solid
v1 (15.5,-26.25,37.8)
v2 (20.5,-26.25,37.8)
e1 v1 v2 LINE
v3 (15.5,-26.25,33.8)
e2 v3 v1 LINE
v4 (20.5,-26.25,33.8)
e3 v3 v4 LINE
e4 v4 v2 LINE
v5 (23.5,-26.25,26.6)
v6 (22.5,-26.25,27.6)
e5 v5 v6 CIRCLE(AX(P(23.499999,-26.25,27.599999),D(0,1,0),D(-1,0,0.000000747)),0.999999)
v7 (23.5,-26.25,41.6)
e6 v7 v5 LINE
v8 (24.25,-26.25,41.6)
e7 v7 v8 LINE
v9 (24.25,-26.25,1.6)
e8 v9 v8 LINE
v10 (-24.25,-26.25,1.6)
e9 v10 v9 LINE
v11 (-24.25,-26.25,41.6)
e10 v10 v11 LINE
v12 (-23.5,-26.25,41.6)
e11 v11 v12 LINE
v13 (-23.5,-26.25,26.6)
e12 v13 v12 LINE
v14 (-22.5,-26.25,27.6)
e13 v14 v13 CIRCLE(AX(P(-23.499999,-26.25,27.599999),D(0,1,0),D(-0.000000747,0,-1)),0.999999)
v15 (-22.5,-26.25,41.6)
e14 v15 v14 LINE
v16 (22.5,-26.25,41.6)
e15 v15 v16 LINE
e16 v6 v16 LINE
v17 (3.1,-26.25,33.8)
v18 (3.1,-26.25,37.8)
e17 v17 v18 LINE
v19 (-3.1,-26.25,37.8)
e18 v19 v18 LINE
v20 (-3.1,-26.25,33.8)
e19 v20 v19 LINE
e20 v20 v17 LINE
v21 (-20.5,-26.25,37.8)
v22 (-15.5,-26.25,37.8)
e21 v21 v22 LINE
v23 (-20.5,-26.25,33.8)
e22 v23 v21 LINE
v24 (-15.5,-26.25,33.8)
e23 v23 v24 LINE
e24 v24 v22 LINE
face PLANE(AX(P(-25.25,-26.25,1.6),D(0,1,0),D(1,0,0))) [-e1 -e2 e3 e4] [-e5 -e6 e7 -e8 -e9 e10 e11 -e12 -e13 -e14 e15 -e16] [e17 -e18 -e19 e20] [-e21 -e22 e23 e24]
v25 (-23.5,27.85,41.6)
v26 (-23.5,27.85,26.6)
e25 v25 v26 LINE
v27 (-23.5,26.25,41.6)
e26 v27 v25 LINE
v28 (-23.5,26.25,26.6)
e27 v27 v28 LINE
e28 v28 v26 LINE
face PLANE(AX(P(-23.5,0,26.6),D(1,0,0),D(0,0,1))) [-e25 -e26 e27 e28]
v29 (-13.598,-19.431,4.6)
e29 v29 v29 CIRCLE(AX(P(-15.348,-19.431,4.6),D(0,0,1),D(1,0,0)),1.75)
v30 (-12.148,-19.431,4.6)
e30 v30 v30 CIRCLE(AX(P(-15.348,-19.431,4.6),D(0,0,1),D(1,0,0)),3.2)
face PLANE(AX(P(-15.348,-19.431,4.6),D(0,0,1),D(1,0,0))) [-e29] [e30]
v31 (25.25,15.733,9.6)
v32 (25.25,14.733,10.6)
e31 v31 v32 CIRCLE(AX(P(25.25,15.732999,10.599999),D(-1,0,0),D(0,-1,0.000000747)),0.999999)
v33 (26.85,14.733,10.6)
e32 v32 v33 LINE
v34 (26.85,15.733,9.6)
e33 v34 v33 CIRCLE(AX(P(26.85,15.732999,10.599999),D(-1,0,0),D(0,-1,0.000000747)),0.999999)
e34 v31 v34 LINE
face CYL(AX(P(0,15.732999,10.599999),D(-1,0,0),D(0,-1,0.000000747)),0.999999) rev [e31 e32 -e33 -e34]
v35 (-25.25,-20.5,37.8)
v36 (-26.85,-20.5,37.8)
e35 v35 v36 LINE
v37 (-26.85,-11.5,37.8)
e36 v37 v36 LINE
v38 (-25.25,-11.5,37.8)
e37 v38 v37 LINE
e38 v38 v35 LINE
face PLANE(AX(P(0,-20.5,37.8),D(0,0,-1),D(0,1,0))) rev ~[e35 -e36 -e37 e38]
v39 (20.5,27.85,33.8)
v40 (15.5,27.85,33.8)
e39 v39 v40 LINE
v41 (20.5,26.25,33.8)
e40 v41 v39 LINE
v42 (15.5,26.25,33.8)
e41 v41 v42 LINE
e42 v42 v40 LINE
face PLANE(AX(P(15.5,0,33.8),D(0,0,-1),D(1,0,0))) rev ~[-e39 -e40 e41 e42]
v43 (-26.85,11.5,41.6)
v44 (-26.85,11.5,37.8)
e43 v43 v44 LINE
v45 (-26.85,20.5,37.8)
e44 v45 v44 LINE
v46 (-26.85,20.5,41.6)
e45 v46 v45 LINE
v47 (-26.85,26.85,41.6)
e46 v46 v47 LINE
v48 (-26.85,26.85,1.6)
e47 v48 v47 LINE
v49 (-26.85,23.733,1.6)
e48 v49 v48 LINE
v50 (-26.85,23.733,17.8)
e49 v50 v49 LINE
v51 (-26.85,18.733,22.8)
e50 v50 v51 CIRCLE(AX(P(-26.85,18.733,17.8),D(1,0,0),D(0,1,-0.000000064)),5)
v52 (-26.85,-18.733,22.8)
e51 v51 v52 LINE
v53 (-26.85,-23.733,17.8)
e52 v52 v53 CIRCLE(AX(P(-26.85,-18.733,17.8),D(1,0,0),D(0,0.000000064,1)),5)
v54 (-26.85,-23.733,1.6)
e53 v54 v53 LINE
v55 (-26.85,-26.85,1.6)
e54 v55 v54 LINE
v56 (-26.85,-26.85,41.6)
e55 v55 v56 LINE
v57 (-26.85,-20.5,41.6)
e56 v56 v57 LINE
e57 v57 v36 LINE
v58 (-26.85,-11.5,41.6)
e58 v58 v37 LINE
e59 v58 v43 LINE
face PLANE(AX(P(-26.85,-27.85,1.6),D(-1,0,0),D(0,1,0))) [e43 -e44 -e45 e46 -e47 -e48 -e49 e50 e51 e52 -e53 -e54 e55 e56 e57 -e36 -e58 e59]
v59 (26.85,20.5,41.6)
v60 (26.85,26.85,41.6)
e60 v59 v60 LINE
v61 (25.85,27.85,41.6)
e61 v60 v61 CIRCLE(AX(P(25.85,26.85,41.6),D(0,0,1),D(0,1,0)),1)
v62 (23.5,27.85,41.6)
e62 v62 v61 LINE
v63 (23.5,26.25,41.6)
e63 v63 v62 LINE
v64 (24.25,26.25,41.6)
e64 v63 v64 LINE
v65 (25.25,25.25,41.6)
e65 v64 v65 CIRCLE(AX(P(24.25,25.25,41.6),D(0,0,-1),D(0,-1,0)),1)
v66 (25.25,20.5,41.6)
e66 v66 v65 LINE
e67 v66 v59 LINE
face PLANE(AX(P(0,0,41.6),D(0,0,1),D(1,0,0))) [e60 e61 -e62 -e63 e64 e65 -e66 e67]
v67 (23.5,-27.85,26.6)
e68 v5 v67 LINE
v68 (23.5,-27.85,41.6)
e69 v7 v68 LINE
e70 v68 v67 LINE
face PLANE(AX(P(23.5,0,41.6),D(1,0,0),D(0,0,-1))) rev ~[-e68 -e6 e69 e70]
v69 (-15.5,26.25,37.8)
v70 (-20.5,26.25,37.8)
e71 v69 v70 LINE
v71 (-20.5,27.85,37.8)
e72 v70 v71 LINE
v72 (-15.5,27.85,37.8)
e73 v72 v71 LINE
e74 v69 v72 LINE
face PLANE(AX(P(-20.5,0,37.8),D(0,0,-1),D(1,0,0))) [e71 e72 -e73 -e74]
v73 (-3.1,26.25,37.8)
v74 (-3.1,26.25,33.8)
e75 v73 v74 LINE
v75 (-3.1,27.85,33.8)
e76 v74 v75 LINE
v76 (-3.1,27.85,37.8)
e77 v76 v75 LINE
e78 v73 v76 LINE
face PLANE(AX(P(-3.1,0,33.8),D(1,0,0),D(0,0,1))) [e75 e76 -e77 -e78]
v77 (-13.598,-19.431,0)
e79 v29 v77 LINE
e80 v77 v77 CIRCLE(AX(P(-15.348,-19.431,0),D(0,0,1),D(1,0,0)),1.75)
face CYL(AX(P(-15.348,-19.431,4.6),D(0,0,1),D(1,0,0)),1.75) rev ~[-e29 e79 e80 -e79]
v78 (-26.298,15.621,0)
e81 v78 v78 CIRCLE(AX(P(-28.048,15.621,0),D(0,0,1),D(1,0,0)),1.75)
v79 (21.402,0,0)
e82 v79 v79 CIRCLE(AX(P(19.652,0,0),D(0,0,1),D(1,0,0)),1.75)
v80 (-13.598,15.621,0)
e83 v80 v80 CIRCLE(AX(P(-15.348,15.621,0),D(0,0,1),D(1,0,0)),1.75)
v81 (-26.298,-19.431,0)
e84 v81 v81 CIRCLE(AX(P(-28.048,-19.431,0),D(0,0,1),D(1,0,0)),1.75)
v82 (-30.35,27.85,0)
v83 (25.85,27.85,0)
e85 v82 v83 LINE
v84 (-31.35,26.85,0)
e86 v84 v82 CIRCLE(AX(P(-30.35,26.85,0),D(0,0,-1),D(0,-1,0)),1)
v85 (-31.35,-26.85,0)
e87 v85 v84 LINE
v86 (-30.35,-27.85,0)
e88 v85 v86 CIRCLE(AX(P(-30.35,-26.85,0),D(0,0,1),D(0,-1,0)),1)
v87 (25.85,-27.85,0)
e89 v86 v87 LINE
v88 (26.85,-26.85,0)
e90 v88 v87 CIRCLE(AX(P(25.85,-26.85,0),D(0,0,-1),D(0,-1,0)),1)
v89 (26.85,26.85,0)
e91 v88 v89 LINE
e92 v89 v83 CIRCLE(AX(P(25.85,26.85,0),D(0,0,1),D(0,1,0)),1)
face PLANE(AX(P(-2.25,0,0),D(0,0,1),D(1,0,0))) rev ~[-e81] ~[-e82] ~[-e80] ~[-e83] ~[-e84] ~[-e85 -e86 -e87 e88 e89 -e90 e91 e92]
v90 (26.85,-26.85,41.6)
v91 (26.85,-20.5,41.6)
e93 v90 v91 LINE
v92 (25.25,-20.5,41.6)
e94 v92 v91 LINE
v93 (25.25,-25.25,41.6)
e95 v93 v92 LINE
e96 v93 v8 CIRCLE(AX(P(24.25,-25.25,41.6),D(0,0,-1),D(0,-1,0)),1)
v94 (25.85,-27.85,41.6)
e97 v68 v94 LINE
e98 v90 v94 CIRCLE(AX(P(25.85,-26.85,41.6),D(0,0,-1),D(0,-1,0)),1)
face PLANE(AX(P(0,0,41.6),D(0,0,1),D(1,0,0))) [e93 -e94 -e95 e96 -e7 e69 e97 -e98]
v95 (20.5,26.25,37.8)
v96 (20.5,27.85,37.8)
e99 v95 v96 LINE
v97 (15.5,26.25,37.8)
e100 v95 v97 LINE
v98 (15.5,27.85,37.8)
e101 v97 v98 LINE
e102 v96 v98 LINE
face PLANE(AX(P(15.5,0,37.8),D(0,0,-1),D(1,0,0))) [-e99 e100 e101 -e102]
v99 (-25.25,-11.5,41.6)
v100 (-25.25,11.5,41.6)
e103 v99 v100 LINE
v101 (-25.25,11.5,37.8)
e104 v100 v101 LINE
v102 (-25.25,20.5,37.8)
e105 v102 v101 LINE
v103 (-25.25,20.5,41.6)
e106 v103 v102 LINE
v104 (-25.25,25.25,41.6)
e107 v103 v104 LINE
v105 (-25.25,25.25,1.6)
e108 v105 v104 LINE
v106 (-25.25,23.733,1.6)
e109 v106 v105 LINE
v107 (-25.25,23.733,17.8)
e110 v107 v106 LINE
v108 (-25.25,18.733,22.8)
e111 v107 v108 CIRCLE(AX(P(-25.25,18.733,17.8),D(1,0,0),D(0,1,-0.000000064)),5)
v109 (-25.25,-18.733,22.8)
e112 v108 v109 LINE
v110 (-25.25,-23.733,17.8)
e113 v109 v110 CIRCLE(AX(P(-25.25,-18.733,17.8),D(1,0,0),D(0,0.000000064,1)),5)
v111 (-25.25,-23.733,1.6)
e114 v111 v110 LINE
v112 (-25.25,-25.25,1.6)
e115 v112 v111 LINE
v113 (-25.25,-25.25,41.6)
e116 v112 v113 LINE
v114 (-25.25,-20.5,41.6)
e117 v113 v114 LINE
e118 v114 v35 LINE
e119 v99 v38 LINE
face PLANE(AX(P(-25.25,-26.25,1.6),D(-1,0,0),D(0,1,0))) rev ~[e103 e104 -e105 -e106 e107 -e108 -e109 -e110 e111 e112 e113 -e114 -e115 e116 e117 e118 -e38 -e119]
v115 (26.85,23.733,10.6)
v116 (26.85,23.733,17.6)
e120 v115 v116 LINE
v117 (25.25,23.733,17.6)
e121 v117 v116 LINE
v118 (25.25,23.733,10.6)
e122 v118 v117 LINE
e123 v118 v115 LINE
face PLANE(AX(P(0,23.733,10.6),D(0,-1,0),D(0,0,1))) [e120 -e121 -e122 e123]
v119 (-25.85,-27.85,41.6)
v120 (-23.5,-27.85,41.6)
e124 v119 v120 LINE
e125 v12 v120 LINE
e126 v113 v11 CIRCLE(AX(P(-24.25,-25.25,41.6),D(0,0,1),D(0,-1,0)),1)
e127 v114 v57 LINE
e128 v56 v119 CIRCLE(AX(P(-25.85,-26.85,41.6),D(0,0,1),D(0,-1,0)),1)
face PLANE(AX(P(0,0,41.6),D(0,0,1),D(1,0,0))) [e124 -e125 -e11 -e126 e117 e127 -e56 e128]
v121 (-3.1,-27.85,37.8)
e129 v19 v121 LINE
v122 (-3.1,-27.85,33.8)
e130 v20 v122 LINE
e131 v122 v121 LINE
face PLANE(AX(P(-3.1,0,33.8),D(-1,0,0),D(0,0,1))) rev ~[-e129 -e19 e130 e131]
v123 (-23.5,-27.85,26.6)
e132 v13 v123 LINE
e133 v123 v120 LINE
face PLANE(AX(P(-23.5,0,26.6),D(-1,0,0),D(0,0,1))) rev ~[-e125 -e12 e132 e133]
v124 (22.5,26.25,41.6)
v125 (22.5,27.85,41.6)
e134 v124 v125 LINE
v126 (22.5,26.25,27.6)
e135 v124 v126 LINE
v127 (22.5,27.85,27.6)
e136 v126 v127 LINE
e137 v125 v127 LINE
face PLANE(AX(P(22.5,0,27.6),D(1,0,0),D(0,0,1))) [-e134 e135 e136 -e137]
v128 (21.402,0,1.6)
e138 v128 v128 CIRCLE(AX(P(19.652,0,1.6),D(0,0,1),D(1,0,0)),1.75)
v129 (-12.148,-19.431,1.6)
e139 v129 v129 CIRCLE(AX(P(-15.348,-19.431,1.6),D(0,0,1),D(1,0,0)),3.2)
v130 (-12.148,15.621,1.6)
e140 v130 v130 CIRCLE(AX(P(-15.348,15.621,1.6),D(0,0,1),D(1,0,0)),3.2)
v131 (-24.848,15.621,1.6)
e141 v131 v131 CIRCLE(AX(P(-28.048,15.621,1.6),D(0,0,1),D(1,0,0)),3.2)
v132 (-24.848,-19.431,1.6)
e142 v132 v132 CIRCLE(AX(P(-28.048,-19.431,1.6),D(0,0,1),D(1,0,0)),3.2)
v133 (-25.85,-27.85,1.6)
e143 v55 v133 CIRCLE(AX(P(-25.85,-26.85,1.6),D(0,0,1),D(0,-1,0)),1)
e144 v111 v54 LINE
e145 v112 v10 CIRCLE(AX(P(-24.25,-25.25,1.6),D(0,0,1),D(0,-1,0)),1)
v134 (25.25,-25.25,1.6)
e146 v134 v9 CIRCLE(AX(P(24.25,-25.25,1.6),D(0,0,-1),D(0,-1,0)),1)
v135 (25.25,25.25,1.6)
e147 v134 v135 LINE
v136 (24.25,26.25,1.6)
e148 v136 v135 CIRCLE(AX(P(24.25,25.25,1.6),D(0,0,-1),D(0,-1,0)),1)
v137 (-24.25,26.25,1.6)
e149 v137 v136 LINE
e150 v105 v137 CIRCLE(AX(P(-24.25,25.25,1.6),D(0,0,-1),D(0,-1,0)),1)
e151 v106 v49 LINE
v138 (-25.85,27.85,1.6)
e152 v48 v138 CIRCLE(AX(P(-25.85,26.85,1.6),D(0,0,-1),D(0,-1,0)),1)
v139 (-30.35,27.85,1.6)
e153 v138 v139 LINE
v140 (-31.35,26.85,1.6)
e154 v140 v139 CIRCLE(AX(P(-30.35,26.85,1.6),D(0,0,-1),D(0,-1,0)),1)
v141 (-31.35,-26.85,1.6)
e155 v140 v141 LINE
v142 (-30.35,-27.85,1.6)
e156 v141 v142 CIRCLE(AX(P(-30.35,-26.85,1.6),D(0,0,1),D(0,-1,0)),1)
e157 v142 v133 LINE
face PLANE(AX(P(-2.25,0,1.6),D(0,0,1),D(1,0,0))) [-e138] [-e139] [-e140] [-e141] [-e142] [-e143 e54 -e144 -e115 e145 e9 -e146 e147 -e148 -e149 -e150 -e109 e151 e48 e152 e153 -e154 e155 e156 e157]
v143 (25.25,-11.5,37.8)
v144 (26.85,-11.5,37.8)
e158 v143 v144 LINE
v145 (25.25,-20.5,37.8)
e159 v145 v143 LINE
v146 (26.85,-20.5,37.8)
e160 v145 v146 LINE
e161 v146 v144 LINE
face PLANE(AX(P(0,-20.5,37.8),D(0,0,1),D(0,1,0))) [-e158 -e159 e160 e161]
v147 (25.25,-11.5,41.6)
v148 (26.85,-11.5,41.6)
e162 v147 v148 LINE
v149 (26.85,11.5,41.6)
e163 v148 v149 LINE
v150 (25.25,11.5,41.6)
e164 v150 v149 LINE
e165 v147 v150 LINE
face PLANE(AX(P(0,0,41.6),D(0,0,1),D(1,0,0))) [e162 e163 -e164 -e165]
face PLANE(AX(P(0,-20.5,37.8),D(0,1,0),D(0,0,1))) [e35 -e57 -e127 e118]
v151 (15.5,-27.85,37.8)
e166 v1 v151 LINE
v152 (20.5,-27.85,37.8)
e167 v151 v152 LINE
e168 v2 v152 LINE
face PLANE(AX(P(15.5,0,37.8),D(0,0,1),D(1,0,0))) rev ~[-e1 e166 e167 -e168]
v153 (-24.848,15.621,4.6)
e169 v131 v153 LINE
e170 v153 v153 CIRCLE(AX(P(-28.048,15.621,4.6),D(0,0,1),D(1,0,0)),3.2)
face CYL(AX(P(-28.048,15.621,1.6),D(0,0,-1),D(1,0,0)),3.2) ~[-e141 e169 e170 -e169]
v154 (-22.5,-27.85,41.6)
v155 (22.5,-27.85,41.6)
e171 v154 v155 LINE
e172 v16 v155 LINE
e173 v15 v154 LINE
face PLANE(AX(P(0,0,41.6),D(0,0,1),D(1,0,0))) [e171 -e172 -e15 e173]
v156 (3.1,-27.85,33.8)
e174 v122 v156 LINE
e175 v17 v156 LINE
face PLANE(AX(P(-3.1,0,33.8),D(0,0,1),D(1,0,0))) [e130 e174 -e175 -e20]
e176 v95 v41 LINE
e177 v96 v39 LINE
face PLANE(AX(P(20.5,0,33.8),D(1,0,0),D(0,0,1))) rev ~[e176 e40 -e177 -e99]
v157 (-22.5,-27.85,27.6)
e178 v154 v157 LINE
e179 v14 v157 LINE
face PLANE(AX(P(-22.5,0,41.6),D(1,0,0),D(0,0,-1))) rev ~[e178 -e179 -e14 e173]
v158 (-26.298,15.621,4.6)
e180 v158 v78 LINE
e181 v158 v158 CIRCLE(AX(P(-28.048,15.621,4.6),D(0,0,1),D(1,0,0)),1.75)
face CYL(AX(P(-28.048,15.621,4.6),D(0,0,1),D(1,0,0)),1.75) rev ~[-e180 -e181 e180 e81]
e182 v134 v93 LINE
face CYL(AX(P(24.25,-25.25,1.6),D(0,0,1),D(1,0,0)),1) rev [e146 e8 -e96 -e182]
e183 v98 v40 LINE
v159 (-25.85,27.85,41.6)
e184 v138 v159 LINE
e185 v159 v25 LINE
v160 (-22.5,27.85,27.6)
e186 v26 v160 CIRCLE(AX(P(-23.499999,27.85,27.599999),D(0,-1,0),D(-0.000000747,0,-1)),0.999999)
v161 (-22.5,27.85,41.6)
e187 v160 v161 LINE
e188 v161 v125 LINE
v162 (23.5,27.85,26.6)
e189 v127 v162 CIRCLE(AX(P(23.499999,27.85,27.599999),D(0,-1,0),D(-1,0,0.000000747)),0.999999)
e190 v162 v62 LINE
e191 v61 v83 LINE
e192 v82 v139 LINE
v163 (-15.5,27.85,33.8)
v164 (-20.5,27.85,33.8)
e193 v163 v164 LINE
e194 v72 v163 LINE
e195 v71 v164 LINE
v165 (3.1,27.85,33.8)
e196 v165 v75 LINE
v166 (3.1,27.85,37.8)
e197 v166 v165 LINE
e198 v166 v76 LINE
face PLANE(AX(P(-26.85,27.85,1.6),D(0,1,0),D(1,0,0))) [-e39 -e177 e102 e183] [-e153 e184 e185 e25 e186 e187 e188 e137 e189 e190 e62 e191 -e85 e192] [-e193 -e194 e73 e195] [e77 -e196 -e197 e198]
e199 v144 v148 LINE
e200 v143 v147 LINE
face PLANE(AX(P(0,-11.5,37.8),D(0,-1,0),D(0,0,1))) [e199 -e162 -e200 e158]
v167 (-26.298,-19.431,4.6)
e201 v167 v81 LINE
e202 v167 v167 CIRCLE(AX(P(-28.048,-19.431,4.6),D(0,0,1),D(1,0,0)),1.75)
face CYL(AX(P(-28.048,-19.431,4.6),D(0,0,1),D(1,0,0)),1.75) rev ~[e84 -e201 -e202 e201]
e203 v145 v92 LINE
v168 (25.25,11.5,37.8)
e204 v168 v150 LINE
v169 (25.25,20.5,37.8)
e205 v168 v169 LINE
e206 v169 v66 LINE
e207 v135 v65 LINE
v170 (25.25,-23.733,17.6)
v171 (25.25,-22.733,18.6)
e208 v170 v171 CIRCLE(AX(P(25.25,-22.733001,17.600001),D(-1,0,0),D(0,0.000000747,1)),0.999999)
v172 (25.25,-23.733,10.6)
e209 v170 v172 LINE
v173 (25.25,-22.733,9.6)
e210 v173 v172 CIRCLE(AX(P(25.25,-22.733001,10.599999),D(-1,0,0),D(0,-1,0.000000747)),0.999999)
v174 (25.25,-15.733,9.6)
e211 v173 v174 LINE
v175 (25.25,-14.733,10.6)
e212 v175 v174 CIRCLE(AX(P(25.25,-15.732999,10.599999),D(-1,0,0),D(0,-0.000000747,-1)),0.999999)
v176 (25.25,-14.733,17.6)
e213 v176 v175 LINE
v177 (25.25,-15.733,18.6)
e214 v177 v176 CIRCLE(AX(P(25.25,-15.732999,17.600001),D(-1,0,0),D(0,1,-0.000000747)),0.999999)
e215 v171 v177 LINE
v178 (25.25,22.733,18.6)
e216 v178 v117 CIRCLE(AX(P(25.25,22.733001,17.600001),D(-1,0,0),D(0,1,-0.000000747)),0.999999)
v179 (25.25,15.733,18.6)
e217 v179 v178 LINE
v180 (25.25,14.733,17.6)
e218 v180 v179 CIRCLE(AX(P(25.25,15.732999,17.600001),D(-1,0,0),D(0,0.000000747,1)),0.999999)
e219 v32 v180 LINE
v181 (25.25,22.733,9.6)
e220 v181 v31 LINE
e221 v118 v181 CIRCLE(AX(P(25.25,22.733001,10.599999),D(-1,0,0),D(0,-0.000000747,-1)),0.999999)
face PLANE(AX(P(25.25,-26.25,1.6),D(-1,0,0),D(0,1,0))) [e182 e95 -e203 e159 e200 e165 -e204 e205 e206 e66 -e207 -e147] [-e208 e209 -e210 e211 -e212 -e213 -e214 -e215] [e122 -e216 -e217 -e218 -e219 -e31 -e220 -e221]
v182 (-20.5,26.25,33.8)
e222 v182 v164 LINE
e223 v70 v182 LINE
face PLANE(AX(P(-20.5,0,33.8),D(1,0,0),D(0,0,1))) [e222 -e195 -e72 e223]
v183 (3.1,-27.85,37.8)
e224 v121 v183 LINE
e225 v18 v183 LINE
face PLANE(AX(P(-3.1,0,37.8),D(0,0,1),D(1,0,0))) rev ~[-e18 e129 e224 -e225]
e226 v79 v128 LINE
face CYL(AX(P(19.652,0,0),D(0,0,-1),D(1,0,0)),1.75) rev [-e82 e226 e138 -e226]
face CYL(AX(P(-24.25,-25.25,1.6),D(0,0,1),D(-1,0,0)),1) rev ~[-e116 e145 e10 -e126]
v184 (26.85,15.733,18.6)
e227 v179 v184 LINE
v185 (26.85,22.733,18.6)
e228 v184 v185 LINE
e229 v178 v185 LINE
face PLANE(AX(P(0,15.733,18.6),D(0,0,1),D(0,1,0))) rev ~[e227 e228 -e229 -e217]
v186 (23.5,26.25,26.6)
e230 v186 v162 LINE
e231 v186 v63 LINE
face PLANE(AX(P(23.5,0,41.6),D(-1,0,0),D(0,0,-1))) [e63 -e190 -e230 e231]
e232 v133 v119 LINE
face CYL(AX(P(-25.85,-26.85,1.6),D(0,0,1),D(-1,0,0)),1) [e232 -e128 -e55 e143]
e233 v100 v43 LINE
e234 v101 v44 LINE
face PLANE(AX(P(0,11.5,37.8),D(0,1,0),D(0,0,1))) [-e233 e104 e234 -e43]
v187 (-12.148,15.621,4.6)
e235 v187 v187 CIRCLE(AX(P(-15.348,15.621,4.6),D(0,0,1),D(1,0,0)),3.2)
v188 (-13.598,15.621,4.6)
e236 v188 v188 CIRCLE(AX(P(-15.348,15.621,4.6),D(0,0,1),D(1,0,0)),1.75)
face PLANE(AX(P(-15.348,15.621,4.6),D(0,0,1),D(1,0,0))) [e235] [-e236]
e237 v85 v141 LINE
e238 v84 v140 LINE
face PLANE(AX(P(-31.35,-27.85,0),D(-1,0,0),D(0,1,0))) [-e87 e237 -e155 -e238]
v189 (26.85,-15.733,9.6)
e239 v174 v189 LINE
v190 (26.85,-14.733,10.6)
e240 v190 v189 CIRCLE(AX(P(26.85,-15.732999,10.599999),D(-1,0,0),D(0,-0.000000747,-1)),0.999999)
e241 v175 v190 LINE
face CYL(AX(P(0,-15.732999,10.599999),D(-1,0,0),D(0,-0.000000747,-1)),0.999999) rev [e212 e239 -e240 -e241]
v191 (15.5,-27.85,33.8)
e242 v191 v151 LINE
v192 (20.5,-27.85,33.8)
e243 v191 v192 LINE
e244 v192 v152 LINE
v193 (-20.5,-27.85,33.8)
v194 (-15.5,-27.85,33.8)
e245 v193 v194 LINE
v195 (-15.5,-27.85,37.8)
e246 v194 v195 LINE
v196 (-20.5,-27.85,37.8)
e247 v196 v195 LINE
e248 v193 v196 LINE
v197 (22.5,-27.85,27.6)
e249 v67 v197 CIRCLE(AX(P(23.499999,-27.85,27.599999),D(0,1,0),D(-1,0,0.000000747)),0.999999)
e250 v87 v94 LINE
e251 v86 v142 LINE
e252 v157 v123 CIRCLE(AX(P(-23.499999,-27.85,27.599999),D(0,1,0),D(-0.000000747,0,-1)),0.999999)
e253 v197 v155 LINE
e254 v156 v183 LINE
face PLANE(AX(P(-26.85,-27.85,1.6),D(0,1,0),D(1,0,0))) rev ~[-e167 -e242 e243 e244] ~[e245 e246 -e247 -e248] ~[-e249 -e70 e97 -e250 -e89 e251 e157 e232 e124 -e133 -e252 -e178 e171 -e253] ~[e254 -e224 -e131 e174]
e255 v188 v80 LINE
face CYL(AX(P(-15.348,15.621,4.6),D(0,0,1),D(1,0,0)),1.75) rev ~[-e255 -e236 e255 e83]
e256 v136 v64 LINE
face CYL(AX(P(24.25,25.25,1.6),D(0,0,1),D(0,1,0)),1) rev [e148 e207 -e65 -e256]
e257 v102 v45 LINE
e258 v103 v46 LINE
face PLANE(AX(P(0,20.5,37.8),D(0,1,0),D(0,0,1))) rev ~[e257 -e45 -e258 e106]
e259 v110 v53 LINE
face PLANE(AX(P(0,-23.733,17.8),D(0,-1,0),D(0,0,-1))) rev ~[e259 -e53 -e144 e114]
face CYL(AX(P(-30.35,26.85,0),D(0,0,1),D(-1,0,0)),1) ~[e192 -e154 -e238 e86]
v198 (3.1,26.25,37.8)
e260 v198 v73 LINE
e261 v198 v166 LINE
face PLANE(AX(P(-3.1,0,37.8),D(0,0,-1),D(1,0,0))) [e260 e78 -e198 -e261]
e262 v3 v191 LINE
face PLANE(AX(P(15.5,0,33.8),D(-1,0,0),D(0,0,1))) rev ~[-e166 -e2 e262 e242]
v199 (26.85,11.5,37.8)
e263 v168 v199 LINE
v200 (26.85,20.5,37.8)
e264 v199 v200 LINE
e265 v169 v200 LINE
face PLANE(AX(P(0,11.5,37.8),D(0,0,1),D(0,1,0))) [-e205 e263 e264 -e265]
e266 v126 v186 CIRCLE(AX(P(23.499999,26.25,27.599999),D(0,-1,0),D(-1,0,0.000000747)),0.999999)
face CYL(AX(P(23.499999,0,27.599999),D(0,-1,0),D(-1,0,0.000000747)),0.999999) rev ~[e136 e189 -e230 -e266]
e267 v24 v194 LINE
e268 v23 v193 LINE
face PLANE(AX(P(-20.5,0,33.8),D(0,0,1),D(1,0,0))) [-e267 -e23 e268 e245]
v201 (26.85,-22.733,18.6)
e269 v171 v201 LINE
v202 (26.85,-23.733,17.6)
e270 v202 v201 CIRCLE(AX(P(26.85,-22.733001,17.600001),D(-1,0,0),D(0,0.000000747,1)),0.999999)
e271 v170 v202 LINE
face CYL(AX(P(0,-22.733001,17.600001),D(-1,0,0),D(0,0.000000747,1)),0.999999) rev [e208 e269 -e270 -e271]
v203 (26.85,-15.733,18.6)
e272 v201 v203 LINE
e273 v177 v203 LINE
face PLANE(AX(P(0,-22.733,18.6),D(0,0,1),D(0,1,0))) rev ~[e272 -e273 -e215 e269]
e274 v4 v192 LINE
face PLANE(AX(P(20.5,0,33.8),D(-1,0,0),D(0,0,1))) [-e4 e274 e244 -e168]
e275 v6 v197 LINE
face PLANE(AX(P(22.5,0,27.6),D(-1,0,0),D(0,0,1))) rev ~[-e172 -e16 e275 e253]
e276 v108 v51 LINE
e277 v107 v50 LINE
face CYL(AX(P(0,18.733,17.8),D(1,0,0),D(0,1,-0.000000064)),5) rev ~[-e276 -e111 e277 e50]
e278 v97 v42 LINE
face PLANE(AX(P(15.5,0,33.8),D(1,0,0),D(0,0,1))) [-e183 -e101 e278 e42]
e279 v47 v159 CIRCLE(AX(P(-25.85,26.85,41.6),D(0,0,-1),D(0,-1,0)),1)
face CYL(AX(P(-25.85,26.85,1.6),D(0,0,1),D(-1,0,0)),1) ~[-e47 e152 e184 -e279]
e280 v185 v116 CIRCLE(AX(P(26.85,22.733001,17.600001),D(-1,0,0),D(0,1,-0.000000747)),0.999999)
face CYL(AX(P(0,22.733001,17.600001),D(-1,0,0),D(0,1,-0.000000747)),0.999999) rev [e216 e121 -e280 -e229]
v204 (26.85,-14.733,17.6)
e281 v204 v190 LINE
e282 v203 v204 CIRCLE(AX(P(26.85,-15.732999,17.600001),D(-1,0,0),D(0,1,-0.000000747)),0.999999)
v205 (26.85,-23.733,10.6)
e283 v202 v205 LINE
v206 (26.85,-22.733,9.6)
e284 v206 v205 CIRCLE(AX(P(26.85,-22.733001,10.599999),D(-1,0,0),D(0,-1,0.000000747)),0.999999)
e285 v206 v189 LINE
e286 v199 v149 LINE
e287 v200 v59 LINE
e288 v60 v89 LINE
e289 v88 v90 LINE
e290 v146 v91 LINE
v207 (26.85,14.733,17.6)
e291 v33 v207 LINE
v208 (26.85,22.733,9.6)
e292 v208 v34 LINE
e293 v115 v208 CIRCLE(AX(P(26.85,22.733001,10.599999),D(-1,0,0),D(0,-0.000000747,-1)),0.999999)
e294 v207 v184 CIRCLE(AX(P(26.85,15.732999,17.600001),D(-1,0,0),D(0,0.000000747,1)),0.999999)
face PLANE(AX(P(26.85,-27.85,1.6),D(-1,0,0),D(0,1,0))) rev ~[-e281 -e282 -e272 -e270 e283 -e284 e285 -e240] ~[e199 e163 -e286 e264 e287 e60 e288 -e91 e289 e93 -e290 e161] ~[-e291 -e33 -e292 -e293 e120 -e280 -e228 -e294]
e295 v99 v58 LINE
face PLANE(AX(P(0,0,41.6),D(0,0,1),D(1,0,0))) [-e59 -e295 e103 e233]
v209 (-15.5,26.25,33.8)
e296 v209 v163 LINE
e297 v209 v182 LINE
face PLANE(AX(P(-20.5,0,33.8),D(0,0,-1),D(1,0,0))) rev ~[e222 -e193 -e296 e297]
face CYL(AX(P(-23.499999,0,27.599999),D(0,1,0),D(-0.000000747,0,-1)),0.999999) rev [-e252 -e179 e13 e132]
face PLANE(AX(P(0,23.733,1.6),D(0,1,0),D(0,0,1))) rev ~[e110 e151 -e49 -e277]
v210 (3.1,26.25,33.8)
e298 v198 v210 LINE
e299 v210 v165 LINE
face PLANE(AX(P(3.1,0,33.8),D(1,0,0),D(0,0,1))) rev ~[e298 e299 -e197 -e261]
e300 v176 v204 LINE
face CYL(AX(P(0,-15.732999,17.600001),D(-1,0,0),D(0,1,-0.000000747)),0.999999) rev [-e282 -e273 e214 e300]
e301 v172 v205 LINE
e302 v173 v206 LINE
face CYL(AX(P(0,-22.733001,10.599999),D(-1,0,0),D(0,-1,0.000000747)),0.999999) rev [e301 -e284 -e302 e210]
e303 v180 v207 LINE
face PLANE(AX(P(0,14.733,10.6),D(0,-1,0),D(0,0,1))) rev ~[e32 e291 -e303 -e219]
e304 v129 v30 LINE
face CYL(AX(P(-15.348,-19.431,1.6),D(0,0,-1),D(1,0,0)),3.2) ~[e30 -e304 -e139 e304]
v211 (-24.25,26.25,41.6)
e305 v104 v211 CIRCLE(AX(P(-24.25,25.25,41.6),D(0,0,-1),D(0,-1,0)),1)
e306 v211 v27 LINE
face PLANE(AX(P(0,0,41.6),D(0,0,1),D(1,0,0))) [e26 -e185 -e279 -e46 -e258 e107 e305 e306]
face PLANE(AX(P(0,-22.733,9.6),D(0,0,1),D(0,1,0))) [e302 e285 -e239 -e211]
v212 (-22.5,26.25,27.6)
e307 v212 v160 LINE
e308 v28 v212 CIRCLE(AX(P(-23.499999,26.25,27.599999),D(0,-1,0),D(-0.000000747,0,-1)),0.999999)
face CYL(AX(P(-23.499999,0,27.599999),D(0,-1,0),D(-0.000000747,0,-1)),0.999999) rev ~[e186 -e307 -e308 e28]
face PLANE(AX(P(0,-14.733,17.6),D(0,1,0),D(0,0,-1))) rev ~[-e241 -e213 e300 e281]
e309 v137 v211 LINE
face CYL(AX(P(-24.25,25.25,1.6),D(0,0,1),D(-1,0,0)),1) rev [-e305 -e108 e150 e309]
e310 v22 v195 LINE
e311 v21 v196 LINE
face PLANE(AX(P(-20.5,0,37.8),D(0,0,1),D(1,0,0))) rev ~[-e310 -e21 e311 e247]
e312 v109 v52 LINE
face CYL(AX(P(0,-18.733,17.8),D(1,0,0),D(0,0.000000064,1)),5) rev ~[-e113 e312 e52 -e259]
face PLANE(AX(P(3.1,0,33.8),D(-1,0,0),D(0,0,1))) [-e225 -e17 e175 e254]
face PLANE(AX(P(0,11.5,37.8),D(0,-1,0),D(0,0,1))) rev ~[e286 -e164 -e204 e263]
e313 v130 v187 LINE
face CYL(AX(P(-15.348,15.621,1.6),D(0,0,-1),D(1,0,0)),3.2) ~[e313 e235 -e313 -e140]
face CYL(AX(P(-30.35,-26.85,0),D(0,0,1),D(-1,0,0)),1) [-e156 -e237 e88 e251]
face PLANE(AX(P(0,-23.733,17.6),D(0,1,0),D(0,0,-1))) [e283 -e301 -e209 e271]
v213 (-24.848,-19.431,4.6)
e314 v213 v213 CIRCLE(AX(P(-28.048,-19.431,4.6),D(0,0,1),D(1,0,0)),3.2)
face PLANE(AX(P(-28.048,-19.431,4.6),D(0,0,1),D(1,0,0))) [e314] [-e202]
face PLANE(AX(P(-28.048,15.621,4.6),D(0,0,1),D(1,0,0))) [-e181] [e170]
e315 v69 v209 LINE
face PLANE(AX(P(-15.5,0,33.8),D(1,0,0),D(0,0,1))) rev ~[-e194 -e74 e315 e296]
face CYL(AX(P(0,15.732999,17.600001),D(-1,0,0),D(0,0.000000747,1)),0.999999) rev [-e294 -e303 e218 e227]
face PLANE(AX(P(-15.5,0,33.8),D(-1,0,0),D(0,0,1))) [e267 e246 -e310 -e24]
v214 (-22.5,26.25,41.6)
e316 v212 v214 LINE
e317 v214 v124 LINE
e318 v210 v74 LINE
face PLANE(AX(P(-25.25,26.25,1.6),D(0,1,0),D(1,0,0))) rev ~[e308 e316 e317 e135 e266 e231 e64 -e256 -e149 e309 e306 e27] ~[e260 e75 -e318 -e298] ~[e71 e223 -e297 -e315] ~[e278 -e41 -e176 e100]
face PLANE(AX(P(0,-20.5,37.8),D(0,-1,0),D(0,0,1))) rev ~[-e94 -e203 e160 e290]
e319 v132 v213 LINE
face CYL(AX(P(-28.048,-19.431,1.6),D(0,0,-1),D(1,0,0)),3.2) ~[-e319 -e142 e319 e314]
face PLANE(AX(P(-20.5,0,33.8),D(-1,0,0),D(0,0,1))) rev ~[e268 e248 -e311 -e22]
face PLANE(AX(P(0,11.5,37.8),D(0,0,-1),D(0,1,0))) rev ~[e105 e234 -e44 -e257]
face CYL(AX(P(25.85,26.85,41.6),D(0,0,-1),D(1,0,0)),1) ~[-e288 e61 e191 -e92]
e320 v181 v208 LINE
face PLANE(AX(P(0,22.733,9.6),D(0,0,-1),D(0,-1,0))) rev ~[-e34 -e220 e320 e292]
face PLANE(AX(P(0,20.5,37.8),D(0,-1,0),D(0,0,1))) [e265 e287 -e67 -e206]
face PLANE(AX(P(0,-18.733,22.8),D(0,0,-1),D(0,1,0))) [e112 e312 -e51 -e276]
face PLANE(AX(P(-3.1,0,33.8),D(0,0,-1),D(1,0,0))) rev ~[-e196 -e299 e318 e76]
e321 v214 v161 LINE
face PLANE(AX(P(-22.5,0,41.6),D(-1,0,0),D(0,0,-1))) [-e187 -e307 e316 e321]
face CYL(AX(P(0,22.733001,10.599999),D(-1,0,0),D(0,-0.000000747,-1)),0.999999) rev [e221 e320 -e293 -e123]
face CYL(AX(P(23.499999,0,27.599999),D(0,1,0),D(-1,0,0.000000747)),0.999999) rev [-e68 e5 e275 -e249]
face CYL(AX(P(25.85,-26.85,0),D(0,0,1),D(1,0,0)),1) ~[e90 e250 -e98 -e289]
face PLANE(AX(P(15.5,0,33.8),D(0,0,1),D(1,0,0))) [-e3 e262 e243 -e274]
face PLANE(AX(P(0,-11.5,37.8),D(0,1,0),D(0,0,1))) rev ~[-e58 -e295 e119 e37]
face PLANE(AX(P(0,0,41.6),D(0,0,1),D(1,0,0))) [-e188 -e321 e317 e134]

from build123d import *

# Parameters (mm, degrees)
SKETCH021_W          = 58.2
SKETCH021_H          = 55.7
SKETCH021_R          = 1.75
PAD007_DEPTH         = 1.6
SKETCH028_W          = 53.7
SKETCH028_H          = 55.7
SKETCH028_W_2        = 50.5
SKETCH028_H_2        = 52.5
PAD008_DEPTH         = 40
FILLET003_R          = 1
SKETCH026_W          = 6.2
SKETCH026_H          = 4
SKETCH026_W_2        = 5
POCKET005_DEPTH      = 27.851
POCKET005_DEPTH_BACK = 27.851
SKETCH023_W          = 9
SKETCH023_H          = 3.8
POCKET006_DEPTH      = 31.351
SKETCH062_W          = 9
SKETCH062_H          = 3.8
POCKET021_DEPTH      = 26.851
SKETCH024_R          = 3.2
PAD006_DEPTH         = 3
SKETCH038_R          = 1.75
POCKET010_DEPTH      = 4.601


with BuildPart() as part:
    # Sketch021 → Pad007 (new body)
    with BuildSketch(Plane.XY):
        with Locations((-2.25, 0)):
            Rectangle(SKETCH021_W, SKETCH021_H)
        with Locations((19.652, 0)):
            Circle(SKETCH021_R, mode=Mode.SUBTRACT)
    extrude(amount=PAD007_DEPTH)

    # Sketch028 → Pad008 (join)
    with BuildSketch(Plane.XY.offset(1.6)):
        Rectangle(SKETCH028_W, SKETCH028_H)
        Rectangle(SKETCH028_W_2, SKETCH028_H_2, mode=Mode.SUBTRACT)
    extrude(amount=PAD008_DEPTH)

    # Fillet003
    fillet003_edges = [part.edges().sort_by_distance(p)[0] for p in [
        (-31.35, -27.85, 0.8),
        (-26.85, 27.85, 21.6),
        (-25.25, 26.25, 21.6),
        (26.85, 27.85, 20.8),
        (25.25, 26.25, 21.6),
        (26.85, -27.85, 20.8),
        (25.25, -26.25, 21.6),
        (-26.85, -27.85, 21.6),
        (-25.25, -26.25, 21.6),
        (-31.35, 27.85, 0.8),
    ]]
    fillet(fillet003_edges, radius=FILLET003_R)

    # Sketch026 → Pocket005 (cut, two sides)
    with BuildSketch(Plane.XZ) as pocket005_sk:
        with Locations((0, 35.8)):
            Rectangle(SKETCH026_W, SKETCH026_H)
        with Locations((-18, 35.8)):
            Rectangle(SKETCH026_W_2, SKETCH026_H)
        with Locations((18, 35.8)):
            Rectangle(SKETCH026_W_2, SKETCH026_H)
        with BuildLine():
            Line((22.5, 41.6), (23.5, 41.6))
            Line((23.5, 41.6), (23.5, 26.6))
            ThreePointArc((22.5, 27.6), (22.792893, 26.892893), (23.5, 26.6))
            Line((22.5, 27.6), (22.5, 41.6))
        make_face()
        with BuildLine():
            Line((-23.5, 41.6), (-22.5, 41.6))
            Line((-22.5, 41.6), (-22.5, 27.6))
            ThreePointArc((-23.5, 26.6), (-22.792893, 26.892893), (-22.5, 27.6))
            Line((-23.5, 26.6), (-23.5, 41.6))
        make_face()
    extrude(amount=-POCKET005_DEPTH, mode=Mode.SUBTRACT)
    extrude(pocket005_sk.sketch, amount=POCKET005_DEPTH_BACK, mode=Mode.SUBTRACT)

    # Sketch023 → Pocket006 (cut, through all)
    with BuildSketch(Plane.YZ):
        with Locations((-16, 39.7)):
            Rectangle(SKETCH023_W, SKETCH023_H)
        with Locations((16, 39.7)):
            Rectangle(SKETCH023_W, SKETCH023_H)
        with BuildLine():
            Line((-18.733, 22.8), (18.733, 22.8))
            ThreePointArc((23.733, 17.8), (22.268534, 21.335534), (18.733, 22.8))
            Line((23.733, 1.6), (23.733, 17.8))
            Line((-23.733, 1.6), (23.733, 1.6))
            Line((-23.733, 17.8), (-23.733, 1.6))
            ThreePointArc((-18.733, 22.8), (-22.268534, 21.335534), (-23.733, 17.8))
        make_face()
    extrude(amount=-POCKET006_DEPTH, mode=Mode.SUBTRACT)

    # Sketch062 → Pocket021 (cut, through all)
    with BuildSketch(Plane.YZ):
        with Locations((-16, 39.7)):
            Rectangle(SKETCH062_W, SKETCH062_H)
        with Locations((16, 39.7)):
            Rectangle(SKETCH062_W, SKETCH062_H)
        with BuildLine():
            Line((-23.733, 17.6), (-23.733, 10.6))
            ThreePointArc((-23.733, 10.6), (-23.440107, 9.892893), (-22.733, 9.6))
            Line((-22.733, 9.6), (-15.733, 9.6))
            ThreePointArc((-15.733, 9.6), (-15.025893, 9.892893), (-14.733, 10.6))
            Line((-14.733, 17.6), (-14.733, 10.6))
            ThreePointArc((-14.733, 17.6), (-15.025893, 18.307107), (-15.733, 18.6))
            Line((-22.733, 18.6), (-15.733, 18.6))
            ThreePointArc((-22.733, 18.6), (-23.440107, 18.307107), (-23.733, 17.6))
        make_face()
        with BuildLine():
            Line((22.733, 9.6), (15.733, 9.6))
            ThreePointArc((14.733, 10.6), (15.025893, 9.892893), (15.733, 9.6))
            Line((14.733, 10.6), (14.733, 17.6))
            ThreePointArc((15.733, 18.6), (15.025893, 18.307107), (14.733, 17.6))
            Line((15.733, 18.6), (22.733, 18.6))
            ThreePointArc((23.733, 17.6), (23.440107, 18.307107), (22.733, 18.6))
            Line((23.733, 10.6), (23.733, 17.6))
            ThreePointArc((22.733, 9.6), (23.440107, 9.892893), (23.733, 10.6))
        make_face()
    extrude(amount=POCKET021_DEPTH, mode=Mode.SUBTRACT)

    # Sketch024 → Pad006 (join)
    with BuildSketch(Plane.XY.offset(1.6)):
        with Locations((-15.348, 15.621)):
            Circle(SKETCH024_R)
        with Locations((-28.048, -19.431)):
            Circle(SKETCH024_R)
        with Locations((-15.348, -19.431)):
            Circle(SKETCH024_R)
        with Locations((-28.048, 15.621)):
            Circle(SKETCH024_R)
    extrude(amount=PAD006_DEPTH)

    # Sketch038 → Pocket010 (cut, through all)
    with BuildSketch(Plane.XY.offset(4.6)):
        with Locations((-28.048, 15.621)):
            Circle(SKETCH038_R)
        with Locations((-15.348, 15.621)):
            Circle(SKETCH038_R)
        with Locations((-15.348, -19.431)):
            Circle(SKETCH038_R)
        with Locations((-28.048, -19.431)):
            Circle(SKETCH038_R)
    extrude(amount=-POCKET010_DEPTH, mode=Mode.SUBTRACT)


solid = part.part
